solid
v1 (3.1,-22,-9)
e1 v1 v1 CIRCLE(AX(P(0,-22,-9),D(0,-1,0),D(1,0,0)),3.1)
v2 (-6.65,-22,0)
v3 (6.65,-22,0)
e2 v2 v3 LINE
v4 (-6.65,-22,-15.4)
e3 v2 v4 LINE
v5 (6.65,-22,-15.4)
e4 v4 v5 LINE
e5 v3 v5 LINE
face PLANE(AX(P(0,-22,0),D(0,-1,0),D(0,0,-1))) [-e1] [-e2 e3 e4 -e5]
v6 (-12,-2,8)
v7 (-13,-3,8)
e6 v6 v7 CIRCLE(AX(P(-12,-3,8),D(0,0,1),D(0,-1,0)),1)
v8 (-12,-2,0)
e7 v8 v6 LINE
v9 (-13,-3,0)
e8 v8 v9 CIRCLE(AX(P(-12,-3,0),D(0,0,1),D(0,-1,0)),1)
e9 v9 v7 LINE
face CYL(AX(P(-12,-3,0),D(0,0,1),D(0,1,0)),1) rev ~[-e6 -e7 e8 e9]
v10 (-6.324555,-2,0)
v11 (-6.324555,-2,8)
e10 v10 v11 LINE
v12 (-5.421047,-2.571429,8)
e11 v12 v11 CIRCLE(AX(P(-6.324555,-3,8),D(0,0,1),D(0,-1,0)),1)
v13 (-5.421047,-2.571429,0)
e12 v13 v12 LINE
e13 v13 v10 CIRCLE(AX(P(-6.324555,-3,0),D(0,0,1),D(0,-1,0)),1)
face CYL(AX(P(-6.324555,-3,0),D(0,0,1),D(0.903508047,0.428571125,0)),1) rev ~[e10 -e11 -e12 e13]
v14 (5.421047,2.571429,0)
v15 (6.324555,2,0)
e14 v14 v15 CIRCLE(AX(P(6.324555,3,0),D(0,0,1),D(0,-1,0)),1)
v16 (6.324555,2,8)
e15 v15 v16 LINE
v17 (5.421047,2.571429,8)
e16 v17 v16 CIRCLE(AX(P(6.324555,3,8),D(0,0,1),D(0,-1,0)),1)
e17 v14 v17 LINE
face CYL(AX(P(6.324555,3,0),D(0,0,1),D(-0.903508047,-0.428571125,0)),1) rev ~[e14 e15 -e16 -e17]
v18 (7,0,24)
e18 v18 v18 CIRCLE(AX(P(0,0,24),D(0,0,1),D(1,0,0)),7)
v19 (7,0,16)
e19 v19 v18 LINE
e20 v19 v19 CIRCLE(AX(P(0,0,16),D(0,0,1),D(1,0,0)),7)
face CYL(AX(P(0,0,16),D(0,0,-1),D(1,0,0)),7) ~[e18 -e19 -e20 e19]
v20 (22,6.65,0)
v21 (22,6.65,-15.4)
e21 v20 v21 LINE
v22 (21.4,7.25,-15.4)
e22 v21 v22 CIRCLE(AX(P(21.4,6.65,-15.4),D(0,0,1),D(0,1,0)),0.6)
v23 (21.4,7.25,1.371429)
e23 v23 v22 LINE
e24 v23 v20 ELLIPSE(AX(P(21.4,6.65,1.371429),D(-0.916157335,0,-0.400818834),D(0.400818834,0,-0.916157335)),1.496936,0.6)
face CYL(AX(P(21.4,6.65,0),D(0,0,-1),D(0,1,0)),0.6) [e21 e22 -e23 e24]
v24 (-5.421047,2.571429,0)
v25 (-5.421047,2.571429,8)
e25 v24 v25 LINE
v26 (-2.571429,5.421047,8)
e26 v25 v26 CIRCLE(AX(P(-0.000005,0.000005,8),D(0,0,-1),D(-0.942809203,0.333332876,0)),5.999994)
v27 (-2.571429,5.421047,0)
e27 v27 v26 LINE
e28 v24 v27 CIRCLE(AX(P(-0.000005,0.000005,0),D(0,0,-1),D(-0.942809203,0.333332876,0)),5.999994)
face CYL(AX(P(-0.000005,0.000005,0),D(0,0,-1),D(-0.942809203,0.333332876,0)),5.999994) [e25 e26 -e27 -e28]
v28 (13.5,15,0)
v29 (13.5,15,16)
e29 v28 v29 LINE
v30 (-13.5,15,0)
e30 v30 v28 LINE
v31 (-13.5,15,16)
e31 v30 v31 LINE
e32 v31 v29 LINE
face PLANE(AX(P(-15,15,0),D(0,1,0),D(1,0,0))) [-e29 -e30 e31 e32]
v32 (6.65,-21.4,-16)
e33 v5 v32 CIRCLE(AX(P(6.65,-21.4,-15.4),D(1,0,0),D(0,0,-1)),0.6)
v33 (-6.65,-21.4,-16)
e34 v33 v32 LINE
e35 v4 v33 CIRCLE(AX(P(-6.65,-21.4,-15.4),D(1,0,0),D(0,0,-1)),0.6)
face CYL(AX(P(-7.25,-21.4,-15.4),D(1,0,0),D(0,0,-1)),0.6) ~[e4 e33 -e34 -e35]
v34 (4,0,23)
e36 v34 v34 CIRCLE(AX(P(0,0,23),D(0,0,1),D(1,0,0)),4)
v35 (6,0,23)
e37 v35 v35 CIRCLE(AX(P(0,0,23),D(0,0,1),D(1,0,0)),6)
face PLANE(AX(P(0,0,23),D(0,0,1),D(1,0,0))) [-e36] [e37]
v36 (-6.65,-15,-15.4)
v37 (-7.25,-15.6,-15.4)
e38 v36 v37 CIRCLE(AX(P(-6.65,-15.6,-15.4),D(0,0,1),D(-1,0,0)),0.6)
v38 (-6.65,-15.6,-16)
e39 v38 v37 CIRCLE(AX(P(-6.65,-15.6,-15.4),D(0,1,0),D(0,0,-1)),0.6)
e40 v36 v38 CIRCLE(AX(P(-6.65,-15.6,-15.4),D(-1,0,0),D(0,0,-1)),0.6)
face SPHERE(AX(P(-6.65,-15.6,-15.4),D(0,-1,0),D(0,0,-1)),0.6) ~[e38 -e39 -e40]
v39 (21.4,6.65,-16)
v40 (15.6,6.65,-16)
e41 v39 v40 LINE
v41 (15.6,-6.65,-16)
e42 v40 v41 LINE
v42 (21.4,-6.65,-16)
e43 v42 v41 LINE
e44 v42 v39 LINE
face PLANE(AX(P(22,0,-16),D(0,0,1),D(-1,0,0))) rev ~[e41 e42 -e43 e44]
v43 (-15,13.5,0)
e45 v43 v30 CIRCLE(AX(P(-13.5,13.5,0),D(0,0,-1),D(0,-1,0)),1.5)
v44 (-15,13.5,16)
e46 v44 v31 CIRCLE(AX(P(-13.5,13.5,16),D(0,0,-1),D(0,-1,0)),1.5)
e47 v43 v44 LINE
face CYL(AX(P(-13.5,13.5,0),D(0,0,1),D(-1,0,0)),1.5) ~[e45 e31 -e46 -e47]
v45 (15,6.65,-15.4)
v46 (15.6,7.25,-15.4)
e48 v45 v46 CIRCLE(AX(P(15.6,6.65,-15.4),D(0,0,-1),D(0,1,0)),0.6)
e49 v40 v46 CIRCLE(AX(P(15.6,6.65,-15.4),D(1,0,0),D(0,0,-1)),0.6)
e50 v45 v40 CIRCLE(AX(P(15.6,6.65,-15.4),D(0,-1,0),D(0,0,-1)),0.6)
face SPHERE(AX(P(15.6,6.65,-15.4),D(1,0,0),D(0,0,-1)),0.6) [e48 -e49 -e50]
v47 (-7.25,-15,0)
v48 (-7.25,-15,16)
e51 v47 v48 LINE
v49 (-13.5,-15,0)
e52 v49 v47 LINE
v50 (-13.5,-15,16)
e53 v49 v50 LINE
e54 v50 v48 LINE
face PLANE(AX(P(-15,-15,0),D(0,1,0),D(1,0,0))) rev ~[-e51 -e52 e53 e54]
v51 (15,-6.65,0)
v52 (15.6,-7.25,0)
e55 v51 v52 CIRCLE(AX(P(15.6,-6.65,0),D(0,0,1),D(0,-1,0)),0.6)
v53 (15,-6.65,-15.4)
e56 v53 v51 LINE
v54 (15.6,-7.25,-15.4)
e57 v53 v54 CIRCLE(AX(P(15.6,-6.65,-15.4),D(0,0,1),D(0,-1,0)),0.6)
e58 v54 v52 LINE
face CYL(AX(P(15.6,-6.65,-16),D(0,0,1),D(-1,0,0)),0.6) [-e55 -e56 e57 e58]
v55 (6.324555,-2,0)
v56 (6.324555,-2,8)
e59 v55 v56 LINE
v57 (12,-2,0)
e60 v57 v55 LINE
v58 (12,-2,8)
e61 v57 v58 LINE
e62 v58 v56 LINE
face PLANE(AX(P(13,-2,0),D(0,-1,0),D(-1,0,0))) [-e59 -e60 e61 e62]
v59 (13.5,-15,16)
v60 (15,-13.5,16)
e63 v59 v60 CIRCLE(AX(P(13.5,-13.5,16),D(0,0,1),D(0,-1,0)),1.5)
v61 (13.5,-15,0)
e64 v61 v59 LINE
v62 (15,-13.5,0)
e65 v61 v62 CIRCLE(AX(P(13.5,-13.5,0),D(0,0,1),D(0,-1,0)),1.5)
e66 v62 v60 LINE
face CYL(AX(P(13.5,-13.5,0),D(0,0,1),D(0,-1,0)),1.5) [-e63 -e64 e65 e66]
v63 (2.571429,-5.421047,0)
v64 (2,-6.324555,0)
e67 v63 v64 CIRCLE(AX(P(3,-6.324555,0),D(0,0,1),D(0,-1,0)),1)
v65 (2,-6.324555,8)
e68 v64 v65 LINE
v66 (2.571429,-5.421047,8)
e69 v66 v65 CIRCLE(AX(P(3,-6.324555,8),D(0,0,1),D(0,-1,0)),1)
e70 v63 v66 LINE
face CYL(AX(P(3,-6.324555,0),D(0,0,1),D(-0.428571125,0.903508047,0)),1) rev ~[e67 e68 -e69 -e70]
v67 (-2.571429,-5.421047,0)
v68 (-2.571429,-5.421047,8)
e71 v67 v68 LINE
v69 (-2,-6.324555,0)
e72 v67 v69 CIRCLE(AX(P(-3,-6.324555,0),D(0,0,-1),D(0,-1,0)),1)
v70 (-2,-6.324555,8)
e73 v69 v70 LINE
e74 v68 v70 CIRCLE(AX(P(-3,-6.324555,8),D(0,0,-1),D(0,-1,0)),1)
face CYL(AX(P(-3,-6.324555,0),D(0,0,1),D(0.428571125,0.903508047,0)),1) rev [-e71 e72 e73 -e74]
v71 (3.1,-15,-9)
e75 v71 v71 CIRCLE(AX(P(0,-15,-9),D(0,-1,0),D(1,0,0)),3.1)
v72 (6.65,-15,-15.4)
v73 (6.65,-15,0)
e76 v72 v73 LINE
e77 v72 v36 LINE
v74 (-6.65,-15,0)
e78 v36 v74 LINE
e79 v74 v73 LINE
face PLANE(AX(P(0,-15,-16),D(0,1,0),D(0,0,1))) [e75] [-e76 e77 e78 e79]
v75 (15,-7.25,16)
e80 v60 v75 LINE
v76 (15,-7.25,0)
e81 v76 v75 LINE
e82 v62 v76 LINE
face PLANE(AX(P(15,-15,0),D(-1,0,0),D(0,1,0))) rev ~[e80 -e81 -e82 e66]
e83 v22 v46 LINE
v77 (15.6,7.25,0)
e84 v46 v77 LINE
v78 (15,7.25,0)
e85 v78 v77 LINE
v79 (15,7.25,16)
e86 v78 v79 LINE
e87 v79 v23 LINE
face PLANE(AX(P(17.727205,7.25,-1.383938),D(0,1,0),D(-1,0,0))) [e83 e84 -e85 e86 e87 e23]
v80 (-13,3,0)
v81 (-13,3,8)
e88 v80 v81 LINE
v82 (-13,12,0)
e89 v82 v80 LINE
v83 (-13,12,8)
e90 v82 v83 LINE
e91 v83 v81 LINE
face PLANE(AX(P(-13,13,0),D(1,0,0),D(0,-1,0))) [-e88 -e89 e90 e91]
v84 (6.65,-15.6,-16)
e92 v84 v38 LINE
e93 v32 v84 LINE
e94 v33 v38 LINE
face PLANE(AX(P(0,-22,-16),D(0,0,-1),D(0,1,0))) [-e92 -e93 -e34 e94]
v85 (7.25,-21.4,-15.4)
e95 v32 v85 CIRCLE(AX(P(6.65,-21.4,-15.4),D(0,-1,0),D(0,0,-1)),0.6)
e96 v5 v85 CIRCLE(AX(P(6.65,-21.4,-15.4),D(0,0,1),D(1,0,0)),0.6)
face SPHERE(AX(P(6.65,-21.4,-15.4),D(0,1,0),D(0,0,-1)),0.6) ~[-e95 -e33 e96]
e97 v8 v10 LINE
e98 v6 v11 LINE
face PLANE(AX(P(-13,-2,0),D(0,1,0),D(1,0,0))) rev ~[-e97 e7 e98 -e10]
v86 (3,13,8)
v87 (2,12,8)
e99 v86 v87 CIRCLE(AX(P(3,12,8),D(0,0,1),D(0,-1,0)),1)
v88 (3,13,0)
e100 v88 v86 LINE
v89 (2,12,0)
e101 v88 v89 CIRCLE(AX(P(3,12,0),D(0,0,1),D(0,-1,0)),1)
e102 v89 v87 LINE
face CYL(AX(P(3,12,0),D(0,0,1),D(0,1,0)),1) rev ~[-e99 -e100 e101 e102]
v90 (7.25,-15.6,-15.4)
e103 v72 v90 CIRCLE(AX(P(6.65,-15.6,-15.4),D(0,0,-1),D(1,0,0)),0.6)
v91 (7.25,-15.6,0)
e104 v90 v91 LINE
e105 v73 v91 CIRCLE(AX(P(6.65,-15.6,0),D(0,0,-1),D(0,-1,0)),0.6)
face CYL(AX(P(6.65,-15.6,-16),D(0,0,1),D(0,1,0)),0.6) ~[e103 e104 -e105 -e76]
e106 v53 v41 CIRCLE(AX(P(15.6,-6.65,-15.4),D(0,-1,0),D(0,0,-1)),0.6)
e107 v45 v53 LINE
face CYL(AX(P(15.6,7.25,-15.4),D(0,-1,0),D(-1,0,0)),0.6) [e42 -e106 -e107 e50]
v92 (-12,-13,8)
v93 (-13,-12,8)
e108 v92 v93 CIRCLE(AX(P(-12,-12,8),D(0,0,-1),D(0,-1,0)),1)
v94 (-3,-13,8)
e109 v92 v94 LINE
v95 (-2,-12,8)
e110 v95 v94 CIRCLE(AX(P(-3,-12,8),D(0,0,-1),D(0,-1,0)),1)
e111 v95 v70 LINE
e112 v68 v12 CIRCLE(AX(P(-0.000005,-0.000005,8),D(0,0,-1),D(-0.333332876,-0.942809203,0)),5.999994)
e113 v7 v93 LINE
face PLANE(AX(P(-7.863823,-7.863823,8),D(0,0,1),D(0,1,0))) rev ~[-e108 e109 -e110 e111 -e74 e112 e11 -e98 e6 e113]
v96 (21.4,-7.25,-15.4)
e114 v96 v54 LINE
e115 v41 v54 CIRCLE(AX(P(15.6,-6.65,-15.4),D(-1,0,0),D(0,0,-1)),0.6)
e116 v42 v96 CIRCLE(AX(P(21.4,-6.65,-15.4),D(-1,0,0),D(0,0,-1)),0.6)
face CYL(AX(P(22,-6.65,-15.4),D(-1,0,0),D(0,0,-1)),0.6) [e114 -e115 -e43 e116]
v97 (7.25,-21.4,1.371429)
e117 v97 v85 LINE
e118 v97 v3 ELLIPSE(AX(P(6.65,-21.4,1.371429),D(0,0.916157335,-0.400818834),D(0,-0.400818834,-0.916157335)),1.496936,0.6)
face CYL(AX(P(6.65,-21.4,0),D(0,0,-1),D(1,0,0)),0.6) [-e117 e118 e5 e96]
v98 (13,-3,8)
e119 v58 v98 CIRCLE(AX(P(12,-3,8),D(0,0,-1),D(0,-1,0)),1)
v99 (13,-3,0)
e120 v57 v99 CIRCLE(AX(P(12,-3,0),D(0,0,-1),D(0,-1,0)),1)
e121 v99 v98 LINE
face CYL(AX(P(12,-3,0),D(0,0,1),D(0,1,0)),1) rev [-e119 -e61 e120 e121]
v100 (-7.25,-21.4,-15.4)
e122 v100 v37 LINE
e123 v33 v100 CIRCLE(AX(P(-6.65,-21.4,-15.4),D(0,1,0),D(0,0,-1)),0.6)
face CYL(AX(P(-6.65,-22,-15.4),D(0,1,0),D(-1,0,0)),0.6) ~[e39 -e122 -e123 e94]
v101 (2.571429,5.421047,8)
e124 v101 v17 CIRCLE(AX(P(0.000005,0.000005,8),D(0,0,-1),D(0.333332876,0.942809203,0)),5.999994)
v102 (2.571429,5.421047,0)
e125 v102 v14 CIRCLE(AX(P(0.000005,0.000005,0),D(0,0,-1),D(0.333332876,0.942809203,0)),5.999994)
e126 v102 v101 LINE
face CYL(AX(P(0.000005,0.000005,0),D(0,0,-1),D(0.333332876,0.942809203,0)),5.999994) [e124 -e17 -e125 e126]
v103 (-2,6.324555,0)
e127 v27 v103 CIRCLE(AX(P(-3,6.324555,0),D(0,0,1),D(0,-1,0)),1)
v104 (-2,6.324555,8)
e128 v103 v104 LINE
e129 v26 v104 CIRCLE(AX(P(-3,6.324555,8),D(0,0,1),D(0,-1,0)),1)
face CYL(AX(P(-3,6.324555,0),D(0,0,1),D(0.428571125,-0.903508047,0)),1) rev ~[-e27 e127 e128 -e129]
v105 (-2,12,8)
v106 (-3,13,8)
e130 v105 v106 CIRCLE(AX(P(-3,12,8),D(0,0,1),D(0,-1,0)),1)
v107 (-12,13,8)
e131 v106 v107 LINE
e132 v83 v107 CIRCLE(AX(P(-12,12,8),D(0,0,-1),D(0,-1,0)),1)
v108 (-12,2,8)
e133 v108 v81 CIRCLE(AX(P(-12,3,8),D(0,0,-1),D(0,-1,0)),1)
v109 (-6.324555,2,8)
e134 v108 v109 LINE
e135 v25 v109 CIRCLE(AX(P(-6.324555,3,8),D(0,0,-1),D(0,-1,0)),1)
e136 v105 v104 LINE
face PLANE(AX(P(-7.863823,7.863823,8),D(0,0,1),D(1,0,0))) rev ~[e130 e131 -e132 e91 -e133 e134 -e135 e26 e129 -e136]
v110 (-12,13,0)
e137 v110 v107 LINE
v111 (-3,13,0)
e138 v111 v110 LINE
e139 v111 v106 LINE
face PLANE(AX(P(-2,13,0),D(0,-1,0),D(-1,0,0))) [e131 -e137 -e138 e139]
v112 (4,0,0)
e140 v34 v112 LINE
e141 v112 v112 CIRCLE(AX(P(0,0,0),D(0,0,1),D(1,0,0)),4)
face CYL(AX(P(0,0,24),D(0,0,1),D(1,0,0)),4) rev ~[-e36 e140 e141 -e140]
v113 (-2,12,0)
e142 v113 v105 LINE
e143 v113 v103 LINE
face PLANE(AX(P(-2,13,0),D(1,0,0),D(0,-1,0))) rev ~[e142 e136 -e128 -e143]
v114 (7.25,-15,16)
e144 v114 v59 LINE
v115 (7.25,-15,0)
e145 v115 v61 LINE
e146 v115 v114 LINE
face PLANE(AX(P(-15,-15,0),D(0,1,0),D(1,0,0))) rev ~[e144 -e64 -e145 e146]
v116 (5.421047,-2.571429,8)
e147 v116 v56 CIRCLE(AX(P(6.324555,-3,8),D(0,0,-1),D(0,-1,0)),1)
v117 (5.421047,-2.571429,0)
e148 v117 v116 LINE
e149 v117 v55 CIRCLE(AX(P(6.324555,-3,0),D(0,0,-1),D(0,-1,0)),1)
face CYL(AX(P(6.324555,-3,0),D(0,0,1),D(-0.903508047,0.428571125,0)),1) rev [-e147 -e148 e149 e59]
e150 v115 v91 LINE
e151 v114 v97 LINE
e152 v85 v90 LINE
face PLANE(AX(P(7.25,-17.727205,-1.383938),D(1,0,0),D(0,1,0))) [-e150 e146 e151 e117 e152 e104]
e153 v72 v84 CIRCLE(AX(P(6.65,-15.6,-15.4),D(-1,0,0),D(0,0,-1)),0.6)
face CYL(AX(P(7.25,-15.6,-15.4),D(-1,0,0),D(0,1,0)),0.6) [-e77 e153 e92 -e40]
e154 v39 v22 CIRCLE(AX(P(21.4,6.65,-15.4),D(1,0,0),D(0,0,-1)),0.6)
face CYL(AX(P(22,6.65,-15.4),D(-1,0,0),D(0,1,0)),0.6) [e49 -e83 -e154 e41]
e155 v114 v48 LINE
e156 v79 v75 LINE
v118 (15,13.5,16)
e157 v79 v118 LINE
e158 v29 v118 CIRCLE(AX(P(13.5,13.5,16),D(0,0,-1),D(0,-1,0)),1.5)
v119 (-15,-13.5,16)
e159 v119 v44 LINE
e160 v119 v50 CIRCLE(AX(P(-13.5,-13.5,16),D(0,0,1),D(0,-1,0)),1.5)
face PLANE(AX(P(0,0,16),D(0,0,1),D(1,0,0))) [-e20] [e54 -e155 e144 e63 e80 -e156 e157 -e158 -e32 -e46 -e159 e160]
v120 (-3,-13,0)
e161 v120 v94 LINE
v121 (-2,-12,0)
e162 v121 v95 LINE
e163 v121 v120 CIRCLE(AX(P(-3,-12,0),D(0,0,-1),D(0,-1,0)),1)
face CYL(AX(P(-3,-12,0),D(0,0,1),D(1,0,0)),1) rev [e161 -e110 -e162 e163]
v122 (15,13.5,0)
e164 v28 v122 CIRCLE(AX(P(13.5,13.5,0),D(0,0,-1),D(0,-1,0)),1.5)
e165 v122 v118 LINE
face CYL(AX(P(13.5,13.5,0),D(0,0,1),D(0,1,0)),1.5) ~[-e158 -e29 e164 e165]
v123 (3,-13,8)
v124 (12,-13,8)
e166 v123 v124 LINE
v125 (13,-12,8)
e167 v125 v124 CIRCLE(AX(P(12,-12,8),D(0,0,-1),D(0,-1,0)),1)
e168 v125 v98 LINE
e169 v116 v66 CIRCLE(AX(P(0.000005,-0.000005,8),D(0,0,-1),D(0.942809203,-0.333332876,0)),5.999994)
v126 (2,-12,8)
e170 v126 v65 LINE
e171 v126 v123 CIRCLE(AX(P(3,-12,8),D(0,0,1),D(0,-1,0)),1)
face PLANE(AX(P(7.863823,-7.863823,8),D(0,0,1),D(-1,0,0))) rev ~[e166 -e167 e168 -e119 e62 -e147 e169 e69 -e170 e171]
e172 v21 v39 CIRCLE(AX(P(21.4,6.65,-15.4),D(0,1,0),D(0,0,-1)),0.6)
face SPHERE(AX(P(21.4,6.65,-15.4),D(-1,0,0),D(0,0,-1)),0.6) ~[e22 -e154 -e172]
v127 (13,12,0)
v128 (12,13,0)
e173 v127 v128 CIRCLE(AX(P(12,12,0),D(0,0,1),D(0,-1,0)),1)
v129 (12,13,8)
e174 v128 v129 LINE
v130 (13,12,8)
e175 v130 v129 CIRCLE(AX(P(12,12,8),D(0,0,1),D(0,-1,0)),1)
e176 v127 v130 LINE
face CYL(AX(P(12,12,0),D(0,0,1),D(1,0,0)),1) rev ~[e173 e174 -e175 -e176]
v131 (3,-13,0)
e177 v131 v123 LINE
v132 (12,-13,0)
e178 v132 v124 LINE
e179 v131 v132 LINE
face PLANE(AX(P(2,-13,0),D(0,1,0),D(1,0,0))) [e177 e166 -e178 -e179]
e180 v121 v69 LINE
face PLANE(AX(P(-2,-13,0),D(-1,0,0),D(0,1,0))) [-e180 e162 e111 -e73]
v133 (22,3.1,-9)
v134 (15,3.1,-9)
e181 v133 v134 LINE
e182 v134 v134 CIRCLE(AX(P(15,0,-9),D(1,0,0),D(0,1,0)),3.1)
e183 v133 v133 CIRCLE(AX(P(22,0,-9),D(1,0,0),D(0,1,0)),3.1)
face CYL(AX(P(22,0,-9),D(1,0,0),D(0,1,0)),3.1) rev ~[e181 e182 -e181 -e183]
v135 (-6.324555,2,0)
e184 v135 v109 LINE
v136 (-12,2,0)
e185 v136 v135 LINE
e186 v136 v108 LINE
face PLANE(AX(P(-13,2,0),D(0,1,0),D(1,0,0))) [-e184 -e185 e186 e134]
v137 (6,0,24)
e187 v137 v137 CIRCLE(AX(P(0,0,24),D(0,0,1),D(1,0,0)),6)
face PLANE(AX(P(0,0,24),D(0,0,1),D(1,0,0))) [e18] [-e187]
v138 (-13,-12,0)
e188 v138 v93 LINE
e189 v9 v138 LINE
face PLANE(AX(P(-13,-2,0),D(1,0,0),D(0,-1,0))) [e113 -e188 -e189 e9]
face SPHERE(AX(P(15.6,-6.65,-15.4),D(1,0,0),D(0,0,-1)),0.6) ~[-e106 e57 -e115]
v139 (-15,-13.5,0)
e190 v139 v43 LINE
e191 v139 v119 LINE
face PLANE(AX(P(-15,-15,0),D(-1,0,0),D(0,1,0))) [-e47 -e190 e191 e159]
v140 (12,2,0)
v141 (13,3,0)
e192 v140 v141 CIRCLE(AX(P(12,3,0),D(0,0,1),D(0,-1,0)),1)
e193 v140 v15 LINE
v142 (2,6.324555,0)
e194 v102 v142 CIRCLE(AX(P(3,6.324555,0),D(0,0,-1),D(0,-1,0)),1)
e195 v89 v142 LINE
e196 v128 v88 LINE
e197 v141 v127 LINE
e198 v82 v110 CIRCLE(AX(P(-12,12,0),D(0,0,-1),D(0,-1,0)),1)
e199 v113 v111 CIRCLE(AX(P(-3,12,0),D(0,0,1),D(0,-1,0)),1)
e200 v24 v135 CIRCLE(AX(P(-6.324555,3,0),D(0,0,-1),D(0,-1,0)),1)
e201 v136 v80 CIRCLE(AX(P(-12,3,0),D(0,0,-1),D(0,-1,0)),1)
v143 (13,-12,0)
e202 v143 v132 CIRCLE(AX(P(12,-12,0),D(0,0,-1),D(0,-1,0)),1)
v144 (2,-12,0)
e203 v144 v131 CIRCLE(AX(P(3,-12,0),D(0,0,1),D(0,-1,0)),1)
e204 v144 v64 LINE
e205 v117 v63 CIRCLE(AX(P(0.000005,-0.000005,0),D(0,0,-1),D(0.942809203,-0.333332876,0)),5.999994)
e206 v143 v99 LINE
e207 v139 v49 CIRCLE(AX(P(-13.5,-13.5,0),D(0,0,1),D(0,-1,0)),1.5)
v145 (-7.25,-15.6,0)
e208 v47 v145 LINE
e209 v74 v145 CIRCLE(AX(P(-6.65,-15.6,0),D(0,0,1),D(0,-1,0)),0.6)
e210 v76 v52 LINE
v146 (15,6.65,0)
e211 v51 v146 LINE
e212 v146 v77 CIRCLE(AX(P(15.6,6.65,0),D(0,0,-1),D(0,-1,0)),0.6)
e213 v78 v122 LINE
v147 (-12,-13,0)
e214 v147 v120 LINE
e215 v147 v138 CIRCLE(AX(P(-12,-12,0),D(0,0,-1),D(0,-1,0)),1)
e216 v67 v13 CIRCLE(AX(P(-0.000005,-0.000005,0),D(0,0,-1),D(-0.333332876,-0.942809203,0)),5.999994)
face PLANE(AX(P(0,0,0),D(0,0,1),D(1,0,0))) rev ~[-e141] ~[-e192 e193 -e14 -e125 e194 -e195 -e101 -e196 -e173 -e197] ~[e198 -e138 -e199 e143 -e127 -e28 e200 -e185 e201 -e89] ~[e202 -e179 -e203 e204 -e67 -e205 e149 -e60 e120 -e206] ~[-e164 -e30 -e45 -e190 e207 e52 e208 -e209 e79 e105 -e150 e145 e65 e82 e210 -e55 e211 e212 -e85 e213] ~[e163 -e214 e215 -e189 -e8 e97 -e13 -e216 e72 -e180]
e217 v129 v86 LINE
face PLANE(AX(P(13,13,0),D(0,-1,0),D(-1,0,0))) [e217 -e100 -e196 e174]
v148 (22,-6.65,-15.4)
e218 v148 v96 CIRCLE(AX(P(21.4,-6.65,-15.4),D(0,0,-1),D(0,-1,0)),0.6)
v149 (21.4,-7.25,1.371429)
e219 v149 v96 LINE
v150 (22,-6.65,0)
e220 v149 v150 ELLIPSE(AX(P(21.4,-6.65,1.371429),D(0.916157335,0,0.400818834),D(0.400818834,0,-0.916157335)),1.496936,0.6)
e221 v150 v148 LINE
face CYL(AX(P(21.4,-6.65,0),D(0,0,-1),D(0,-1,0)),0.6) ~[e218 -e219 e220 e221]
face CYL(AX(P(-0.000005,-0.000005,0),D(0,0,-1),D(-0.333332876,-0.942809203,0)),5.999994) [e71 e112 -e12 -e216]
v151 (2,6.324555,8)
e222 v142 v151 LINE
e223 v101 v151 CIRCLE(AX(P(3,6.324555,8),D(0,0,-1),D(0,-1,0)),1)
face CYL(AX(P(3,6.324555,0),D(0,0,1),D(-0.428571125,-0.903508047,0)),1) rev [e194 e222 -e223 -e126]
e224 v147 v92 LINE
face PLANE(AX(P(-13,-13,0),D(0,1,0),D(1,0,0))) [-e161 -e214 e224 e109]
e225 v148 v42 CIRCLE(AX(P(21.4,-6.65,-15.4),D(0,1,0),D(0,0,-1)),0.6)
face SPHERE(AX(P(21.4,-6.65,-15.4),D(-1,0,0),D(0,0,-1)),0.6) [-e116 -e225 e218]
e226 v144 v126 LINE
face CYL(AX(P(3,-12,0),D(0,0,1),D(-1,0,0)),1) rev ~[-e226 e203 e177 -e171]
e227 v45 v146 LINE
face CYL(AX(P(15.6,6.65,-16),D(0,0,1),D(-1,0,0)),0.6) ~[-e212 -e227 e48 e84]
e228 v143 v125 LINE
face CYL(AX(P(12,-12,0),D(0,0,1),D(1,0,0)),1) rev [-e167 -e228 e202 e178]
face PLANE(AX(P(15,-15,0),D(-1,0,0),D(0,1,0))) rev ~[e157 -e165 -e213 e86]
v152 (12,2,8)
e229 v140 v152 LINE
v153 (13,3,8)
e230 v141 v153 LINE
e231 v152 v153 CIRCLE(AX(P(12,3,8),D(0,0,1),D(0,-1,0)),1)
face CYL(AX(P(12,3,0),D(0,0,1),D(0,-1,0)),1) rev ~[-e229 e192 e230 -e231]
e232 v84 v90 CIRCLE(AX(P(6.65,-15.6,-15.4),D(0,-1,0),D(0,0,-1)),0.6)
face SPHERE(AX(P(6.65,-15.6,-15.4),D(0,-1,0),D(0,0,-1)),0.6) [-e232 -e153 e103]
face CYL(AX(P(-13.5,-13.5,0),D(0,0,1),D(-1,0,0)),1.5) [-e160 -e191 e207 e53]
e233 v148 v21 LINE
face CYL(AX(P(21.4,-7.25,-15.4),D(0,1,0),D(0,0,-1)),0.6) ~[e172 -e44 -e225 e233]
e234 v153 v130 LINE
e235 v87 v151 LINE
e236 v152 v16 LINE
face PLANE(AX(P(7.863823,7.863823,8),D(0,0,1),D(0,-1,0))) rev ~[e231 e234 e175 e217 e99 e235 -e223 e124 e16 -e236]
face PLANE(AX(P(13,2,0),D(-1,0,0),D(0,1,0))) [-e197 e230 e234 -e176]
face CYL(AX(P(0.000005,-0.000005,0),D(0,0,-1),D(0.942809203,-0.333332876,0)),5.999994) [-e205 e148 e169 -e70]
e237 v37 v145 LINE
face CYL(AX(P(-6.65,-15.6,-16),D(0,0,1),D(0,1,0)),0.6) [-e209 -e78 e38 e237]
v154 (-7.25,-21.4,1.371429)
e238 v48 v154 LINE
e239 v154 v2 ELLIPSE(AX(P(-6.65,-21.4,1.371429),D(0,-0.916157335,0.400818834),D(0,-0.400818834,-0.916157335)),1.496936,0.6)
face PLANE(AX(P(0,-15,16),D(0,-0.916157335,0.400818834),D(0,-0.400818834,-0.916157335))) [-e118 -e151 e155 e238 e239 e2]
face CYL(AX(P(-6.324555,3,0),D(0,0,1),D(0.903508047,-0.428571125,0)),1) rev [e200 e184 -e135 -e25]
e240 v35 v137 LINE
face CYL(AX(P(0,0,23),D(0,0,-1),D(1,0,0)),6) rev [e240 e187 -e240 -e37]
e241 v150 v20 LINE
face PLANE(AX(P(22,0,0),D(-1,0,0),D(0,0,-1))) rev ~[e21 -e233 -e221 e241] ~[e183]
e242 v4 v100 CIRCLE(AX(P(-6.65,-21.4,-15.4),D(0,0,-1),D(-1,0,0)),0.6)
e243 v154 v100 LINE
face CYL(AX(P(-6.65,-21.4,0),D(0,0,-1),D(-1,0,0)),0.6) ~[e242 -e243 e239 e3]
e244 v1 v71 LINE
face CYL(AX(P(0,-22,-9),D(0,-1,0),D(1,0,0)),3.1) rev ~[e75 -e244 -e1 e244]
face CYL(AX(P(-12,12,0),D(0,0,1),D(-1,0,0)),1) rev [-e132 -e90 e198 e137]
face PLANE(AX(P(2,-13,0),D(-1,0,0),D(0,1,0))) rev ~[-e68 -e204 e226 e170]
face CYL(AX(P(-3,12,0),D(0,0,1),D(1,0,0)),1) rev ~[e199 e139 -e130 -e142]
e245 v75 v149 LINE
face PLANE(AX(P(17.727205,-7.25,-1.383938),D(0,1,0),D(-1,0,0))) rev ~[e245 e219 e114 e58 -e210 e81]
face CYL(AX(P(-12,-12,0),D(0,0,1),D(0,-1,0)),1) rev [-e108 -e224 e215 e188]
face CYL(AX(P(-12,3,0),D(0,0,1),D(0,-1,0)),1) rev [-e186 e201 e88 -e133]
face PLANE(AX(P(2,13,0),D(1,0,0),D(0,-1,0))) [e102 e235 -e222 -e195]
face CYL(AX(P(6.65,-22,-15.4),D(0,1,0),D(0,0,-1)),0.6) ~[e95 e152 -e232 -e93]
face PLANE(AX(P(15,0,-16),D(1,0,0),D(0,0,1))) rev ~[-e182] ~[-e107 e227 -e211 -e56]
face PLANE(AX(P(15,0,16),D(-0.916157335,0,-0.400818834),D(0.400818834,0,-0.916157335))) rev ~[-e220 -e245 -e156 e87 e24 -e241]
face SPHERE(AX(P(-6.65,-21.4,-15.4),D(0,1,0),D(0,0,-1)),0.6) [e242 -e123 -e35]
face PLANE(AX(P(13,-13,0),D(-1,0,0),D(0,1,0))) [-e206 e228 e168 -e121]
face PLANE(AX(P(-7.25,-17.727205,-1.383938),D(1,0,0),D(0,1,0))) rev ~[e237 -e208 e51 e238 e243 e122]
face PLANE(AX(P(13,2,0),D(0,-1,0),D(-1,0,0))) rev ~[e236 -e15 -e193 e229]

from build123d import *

# Parameters (mm, degrees)
SKETCH_W           = 30
SKETCH_H           = 30
PAD_DEPTH          = 16
SKETCH001_R        = 7
PAD001_DEPTH       = 8
SKETCH002_R        = 4
POCKET_DEPTH       = 24
CYLINDER_R         = 6
CYLINDER_DEPTH     = 1
PAD002_DEPTH       = 7.25
SKETCH004_R        = 3.1
POCKET001_DEPTH    = 7
PAD003_DEPTH       = 7.25
SKETCH006_R        = 3.1
POCKET002_DEPTH    = 7
POCKET003_DEPTH    = 8
POLARPATTERN_COUNT = 4
FILLET_R           = 1
FILLET001_R        = 1.5
FILLET002_R        = 0.6


with BuildPart() as part:
    # Sketch → Pad (new body)
    with BuildSketch(Plane.XY):
        Rectangle(SKETCH_W, SKETCH_H)
    extrude(amount=PAD_DEPTH)

    # Sketch001 (on Face6 of Pad) → Pad001 (join)
    with BuildSketch(Plane.XY.offset(16)):
        Circle(SKETCH001_R)
    extrude(amount=PAD001_DEPTH)

    # Sketch002 (on Face8 of Pad001) → Pocket (cut)
    with BuildSketch(Plane.XY.offset(24)):
        Circle(SKETCH002_R)
    extrude(amount=-POCKET_DEPTH, mode=Mode.SUBTRACT)

    # Cylinder → Cylinder (cut)
    with BuildSketch(Plane.XY.offset(23)):
        Circle(CYLINDER_R)
    extrude(amount=CYLINDER_DEPTH, mode=Mode.SUBTRACT)

    # Sketch003 → Pad002 (join, symmetric)
    with BuildSketch(Plane.XZ):
        Polygon((15, 16), (22, 0), (22, -16), (15, -16), align=None)
    extrude(amount=PAD002_DEPTH, both=True)

    # Sketch004 (on Face16 of Pad002) → Pocket001 (cut)
    with BuildSketch(Plane(origin=(22, 0, 23), x_dir=(0, 1, 0), z_dir=(1, 0, 0))):
        with Locations((0, -32)):
            Circle(SKETCH004_R)
    extrude(amount=-POCKET001_DEPTH, mode=Mode.SUBTRACT)

    # Sketch005 → Pad003 (join, symmetric)
    with BuildSketch(Plane.YZ):
        Polygon((-15, 16), (-22, 0), (-22, -16), (-15, -16), align=None)
    extrude(amount=PAD003_DEPTH, both=True)

    # Sketch006 (on Face17 of Pad003) → Pocket002 (cut)
    with BuildSketch(Plane(origin=(0, -22, 23), x_dir=(1, 0, 0), z_dir=(0, -1, 0))):
        with Locations((0, -32)):
            Circle(SKETCH006_R)
    extrude(amount=-POCKET002_DEPTH, mode=Mode.SUBTRACT)

    # Sketch007 (on Face4 of Pocket002) → Pocket003 (cut)
    with BuildSketch(Plane(origin=(0, 0, 0), x_dir=(1, 0, 0), z_dir=(0, 0, -1))):
        with BuildLine():
            ThreePointArc((5.656854, 2), (4.242641, 4.242641), (2, 5.656854))
            Line((2, 13), (2, 5.656854))
            Line((2, 13), (13, 13))
            Line((13, 13), (13, 2))
            Line((13, 2), (5.656854, 2))
        make_face()
    pocket003 = extrude(amount=-POCKET003_DEPTH, mode=Mode.SUBTRACT)

    # PolarPattern: Pocket003 ×4 about axis
    polarpattern_axis = Axis((0, 0, 0), (0, 0, -1))
    for i in range(1, POLARPATTERN_COUNT):
        add(pocket003.rotate(polarpattern_axis, i * 360 / POLARPATTERN_COUNT), mode=Mode.SUBTRACT)

    # Fillet
    fillet_edges = [part.edges().sort_by_distance(p)[0] for p in [
        (5.656854, -2, 4),
        (2, -5.656854, 4),
        (2, -13, 4),
        (13, -13, 4),
        (13, -2, 4),
        (5.656854, 2, 4),
        (13, 2, 4),
        (13, 13, 4),
        (2, 13, 4),
        (2, 5.656854, 4),
        (-2, 5.656854, 4),
        (-13, 2, 4),
        (-13, 13, 4),
        (-2, 13, 4),
        (-5.656854, 2, 4),
        (-5.656854, -2, 4),
        (-2, -5.656854, 4),
        (-2, -13, 4),
        (-13, -13, 4),
        (-13, -2, 4),
    ]]
    fillet(fillet_edges, radius=FILLET_R)

    # Fillet001
    fillet001_edges = [part.edges().sort_by_distance(p)[0] for p in [
        (15, 15, 8),
        (-15, 15, 8),
        (-15, -15, 8),
        (15, -15, 8),
    ]]
    fillet(fillet001_edges, radius=FILLET001_R)

    # Fillet002
    fillet002_edges = [part.edges().sort_by_distance(p)[0] for p in [
        (18.5, -7.25, -16),
        (18.5, 7.25, -16),
        (7.25, -18.5, -16),
        (-7.25, -18.5, -16),
        (0, -22, -16),
        (0, -15, -16),
        (22, 0, -16),
        (15, 0, -16),
        (22, -7.25, -8),
        (15, -7.25, -8),
        (22, 7.25, -8),
        (15, 7.25, -8),
        (7.25, -15, -8),
        (7.25, -22, -8),
        (-7.25, -15, -8),
        (-7.25, -22, -8),
    ]]
    fillet(fillet002_edges, radius=FILLET002_R)


solid = part.part
